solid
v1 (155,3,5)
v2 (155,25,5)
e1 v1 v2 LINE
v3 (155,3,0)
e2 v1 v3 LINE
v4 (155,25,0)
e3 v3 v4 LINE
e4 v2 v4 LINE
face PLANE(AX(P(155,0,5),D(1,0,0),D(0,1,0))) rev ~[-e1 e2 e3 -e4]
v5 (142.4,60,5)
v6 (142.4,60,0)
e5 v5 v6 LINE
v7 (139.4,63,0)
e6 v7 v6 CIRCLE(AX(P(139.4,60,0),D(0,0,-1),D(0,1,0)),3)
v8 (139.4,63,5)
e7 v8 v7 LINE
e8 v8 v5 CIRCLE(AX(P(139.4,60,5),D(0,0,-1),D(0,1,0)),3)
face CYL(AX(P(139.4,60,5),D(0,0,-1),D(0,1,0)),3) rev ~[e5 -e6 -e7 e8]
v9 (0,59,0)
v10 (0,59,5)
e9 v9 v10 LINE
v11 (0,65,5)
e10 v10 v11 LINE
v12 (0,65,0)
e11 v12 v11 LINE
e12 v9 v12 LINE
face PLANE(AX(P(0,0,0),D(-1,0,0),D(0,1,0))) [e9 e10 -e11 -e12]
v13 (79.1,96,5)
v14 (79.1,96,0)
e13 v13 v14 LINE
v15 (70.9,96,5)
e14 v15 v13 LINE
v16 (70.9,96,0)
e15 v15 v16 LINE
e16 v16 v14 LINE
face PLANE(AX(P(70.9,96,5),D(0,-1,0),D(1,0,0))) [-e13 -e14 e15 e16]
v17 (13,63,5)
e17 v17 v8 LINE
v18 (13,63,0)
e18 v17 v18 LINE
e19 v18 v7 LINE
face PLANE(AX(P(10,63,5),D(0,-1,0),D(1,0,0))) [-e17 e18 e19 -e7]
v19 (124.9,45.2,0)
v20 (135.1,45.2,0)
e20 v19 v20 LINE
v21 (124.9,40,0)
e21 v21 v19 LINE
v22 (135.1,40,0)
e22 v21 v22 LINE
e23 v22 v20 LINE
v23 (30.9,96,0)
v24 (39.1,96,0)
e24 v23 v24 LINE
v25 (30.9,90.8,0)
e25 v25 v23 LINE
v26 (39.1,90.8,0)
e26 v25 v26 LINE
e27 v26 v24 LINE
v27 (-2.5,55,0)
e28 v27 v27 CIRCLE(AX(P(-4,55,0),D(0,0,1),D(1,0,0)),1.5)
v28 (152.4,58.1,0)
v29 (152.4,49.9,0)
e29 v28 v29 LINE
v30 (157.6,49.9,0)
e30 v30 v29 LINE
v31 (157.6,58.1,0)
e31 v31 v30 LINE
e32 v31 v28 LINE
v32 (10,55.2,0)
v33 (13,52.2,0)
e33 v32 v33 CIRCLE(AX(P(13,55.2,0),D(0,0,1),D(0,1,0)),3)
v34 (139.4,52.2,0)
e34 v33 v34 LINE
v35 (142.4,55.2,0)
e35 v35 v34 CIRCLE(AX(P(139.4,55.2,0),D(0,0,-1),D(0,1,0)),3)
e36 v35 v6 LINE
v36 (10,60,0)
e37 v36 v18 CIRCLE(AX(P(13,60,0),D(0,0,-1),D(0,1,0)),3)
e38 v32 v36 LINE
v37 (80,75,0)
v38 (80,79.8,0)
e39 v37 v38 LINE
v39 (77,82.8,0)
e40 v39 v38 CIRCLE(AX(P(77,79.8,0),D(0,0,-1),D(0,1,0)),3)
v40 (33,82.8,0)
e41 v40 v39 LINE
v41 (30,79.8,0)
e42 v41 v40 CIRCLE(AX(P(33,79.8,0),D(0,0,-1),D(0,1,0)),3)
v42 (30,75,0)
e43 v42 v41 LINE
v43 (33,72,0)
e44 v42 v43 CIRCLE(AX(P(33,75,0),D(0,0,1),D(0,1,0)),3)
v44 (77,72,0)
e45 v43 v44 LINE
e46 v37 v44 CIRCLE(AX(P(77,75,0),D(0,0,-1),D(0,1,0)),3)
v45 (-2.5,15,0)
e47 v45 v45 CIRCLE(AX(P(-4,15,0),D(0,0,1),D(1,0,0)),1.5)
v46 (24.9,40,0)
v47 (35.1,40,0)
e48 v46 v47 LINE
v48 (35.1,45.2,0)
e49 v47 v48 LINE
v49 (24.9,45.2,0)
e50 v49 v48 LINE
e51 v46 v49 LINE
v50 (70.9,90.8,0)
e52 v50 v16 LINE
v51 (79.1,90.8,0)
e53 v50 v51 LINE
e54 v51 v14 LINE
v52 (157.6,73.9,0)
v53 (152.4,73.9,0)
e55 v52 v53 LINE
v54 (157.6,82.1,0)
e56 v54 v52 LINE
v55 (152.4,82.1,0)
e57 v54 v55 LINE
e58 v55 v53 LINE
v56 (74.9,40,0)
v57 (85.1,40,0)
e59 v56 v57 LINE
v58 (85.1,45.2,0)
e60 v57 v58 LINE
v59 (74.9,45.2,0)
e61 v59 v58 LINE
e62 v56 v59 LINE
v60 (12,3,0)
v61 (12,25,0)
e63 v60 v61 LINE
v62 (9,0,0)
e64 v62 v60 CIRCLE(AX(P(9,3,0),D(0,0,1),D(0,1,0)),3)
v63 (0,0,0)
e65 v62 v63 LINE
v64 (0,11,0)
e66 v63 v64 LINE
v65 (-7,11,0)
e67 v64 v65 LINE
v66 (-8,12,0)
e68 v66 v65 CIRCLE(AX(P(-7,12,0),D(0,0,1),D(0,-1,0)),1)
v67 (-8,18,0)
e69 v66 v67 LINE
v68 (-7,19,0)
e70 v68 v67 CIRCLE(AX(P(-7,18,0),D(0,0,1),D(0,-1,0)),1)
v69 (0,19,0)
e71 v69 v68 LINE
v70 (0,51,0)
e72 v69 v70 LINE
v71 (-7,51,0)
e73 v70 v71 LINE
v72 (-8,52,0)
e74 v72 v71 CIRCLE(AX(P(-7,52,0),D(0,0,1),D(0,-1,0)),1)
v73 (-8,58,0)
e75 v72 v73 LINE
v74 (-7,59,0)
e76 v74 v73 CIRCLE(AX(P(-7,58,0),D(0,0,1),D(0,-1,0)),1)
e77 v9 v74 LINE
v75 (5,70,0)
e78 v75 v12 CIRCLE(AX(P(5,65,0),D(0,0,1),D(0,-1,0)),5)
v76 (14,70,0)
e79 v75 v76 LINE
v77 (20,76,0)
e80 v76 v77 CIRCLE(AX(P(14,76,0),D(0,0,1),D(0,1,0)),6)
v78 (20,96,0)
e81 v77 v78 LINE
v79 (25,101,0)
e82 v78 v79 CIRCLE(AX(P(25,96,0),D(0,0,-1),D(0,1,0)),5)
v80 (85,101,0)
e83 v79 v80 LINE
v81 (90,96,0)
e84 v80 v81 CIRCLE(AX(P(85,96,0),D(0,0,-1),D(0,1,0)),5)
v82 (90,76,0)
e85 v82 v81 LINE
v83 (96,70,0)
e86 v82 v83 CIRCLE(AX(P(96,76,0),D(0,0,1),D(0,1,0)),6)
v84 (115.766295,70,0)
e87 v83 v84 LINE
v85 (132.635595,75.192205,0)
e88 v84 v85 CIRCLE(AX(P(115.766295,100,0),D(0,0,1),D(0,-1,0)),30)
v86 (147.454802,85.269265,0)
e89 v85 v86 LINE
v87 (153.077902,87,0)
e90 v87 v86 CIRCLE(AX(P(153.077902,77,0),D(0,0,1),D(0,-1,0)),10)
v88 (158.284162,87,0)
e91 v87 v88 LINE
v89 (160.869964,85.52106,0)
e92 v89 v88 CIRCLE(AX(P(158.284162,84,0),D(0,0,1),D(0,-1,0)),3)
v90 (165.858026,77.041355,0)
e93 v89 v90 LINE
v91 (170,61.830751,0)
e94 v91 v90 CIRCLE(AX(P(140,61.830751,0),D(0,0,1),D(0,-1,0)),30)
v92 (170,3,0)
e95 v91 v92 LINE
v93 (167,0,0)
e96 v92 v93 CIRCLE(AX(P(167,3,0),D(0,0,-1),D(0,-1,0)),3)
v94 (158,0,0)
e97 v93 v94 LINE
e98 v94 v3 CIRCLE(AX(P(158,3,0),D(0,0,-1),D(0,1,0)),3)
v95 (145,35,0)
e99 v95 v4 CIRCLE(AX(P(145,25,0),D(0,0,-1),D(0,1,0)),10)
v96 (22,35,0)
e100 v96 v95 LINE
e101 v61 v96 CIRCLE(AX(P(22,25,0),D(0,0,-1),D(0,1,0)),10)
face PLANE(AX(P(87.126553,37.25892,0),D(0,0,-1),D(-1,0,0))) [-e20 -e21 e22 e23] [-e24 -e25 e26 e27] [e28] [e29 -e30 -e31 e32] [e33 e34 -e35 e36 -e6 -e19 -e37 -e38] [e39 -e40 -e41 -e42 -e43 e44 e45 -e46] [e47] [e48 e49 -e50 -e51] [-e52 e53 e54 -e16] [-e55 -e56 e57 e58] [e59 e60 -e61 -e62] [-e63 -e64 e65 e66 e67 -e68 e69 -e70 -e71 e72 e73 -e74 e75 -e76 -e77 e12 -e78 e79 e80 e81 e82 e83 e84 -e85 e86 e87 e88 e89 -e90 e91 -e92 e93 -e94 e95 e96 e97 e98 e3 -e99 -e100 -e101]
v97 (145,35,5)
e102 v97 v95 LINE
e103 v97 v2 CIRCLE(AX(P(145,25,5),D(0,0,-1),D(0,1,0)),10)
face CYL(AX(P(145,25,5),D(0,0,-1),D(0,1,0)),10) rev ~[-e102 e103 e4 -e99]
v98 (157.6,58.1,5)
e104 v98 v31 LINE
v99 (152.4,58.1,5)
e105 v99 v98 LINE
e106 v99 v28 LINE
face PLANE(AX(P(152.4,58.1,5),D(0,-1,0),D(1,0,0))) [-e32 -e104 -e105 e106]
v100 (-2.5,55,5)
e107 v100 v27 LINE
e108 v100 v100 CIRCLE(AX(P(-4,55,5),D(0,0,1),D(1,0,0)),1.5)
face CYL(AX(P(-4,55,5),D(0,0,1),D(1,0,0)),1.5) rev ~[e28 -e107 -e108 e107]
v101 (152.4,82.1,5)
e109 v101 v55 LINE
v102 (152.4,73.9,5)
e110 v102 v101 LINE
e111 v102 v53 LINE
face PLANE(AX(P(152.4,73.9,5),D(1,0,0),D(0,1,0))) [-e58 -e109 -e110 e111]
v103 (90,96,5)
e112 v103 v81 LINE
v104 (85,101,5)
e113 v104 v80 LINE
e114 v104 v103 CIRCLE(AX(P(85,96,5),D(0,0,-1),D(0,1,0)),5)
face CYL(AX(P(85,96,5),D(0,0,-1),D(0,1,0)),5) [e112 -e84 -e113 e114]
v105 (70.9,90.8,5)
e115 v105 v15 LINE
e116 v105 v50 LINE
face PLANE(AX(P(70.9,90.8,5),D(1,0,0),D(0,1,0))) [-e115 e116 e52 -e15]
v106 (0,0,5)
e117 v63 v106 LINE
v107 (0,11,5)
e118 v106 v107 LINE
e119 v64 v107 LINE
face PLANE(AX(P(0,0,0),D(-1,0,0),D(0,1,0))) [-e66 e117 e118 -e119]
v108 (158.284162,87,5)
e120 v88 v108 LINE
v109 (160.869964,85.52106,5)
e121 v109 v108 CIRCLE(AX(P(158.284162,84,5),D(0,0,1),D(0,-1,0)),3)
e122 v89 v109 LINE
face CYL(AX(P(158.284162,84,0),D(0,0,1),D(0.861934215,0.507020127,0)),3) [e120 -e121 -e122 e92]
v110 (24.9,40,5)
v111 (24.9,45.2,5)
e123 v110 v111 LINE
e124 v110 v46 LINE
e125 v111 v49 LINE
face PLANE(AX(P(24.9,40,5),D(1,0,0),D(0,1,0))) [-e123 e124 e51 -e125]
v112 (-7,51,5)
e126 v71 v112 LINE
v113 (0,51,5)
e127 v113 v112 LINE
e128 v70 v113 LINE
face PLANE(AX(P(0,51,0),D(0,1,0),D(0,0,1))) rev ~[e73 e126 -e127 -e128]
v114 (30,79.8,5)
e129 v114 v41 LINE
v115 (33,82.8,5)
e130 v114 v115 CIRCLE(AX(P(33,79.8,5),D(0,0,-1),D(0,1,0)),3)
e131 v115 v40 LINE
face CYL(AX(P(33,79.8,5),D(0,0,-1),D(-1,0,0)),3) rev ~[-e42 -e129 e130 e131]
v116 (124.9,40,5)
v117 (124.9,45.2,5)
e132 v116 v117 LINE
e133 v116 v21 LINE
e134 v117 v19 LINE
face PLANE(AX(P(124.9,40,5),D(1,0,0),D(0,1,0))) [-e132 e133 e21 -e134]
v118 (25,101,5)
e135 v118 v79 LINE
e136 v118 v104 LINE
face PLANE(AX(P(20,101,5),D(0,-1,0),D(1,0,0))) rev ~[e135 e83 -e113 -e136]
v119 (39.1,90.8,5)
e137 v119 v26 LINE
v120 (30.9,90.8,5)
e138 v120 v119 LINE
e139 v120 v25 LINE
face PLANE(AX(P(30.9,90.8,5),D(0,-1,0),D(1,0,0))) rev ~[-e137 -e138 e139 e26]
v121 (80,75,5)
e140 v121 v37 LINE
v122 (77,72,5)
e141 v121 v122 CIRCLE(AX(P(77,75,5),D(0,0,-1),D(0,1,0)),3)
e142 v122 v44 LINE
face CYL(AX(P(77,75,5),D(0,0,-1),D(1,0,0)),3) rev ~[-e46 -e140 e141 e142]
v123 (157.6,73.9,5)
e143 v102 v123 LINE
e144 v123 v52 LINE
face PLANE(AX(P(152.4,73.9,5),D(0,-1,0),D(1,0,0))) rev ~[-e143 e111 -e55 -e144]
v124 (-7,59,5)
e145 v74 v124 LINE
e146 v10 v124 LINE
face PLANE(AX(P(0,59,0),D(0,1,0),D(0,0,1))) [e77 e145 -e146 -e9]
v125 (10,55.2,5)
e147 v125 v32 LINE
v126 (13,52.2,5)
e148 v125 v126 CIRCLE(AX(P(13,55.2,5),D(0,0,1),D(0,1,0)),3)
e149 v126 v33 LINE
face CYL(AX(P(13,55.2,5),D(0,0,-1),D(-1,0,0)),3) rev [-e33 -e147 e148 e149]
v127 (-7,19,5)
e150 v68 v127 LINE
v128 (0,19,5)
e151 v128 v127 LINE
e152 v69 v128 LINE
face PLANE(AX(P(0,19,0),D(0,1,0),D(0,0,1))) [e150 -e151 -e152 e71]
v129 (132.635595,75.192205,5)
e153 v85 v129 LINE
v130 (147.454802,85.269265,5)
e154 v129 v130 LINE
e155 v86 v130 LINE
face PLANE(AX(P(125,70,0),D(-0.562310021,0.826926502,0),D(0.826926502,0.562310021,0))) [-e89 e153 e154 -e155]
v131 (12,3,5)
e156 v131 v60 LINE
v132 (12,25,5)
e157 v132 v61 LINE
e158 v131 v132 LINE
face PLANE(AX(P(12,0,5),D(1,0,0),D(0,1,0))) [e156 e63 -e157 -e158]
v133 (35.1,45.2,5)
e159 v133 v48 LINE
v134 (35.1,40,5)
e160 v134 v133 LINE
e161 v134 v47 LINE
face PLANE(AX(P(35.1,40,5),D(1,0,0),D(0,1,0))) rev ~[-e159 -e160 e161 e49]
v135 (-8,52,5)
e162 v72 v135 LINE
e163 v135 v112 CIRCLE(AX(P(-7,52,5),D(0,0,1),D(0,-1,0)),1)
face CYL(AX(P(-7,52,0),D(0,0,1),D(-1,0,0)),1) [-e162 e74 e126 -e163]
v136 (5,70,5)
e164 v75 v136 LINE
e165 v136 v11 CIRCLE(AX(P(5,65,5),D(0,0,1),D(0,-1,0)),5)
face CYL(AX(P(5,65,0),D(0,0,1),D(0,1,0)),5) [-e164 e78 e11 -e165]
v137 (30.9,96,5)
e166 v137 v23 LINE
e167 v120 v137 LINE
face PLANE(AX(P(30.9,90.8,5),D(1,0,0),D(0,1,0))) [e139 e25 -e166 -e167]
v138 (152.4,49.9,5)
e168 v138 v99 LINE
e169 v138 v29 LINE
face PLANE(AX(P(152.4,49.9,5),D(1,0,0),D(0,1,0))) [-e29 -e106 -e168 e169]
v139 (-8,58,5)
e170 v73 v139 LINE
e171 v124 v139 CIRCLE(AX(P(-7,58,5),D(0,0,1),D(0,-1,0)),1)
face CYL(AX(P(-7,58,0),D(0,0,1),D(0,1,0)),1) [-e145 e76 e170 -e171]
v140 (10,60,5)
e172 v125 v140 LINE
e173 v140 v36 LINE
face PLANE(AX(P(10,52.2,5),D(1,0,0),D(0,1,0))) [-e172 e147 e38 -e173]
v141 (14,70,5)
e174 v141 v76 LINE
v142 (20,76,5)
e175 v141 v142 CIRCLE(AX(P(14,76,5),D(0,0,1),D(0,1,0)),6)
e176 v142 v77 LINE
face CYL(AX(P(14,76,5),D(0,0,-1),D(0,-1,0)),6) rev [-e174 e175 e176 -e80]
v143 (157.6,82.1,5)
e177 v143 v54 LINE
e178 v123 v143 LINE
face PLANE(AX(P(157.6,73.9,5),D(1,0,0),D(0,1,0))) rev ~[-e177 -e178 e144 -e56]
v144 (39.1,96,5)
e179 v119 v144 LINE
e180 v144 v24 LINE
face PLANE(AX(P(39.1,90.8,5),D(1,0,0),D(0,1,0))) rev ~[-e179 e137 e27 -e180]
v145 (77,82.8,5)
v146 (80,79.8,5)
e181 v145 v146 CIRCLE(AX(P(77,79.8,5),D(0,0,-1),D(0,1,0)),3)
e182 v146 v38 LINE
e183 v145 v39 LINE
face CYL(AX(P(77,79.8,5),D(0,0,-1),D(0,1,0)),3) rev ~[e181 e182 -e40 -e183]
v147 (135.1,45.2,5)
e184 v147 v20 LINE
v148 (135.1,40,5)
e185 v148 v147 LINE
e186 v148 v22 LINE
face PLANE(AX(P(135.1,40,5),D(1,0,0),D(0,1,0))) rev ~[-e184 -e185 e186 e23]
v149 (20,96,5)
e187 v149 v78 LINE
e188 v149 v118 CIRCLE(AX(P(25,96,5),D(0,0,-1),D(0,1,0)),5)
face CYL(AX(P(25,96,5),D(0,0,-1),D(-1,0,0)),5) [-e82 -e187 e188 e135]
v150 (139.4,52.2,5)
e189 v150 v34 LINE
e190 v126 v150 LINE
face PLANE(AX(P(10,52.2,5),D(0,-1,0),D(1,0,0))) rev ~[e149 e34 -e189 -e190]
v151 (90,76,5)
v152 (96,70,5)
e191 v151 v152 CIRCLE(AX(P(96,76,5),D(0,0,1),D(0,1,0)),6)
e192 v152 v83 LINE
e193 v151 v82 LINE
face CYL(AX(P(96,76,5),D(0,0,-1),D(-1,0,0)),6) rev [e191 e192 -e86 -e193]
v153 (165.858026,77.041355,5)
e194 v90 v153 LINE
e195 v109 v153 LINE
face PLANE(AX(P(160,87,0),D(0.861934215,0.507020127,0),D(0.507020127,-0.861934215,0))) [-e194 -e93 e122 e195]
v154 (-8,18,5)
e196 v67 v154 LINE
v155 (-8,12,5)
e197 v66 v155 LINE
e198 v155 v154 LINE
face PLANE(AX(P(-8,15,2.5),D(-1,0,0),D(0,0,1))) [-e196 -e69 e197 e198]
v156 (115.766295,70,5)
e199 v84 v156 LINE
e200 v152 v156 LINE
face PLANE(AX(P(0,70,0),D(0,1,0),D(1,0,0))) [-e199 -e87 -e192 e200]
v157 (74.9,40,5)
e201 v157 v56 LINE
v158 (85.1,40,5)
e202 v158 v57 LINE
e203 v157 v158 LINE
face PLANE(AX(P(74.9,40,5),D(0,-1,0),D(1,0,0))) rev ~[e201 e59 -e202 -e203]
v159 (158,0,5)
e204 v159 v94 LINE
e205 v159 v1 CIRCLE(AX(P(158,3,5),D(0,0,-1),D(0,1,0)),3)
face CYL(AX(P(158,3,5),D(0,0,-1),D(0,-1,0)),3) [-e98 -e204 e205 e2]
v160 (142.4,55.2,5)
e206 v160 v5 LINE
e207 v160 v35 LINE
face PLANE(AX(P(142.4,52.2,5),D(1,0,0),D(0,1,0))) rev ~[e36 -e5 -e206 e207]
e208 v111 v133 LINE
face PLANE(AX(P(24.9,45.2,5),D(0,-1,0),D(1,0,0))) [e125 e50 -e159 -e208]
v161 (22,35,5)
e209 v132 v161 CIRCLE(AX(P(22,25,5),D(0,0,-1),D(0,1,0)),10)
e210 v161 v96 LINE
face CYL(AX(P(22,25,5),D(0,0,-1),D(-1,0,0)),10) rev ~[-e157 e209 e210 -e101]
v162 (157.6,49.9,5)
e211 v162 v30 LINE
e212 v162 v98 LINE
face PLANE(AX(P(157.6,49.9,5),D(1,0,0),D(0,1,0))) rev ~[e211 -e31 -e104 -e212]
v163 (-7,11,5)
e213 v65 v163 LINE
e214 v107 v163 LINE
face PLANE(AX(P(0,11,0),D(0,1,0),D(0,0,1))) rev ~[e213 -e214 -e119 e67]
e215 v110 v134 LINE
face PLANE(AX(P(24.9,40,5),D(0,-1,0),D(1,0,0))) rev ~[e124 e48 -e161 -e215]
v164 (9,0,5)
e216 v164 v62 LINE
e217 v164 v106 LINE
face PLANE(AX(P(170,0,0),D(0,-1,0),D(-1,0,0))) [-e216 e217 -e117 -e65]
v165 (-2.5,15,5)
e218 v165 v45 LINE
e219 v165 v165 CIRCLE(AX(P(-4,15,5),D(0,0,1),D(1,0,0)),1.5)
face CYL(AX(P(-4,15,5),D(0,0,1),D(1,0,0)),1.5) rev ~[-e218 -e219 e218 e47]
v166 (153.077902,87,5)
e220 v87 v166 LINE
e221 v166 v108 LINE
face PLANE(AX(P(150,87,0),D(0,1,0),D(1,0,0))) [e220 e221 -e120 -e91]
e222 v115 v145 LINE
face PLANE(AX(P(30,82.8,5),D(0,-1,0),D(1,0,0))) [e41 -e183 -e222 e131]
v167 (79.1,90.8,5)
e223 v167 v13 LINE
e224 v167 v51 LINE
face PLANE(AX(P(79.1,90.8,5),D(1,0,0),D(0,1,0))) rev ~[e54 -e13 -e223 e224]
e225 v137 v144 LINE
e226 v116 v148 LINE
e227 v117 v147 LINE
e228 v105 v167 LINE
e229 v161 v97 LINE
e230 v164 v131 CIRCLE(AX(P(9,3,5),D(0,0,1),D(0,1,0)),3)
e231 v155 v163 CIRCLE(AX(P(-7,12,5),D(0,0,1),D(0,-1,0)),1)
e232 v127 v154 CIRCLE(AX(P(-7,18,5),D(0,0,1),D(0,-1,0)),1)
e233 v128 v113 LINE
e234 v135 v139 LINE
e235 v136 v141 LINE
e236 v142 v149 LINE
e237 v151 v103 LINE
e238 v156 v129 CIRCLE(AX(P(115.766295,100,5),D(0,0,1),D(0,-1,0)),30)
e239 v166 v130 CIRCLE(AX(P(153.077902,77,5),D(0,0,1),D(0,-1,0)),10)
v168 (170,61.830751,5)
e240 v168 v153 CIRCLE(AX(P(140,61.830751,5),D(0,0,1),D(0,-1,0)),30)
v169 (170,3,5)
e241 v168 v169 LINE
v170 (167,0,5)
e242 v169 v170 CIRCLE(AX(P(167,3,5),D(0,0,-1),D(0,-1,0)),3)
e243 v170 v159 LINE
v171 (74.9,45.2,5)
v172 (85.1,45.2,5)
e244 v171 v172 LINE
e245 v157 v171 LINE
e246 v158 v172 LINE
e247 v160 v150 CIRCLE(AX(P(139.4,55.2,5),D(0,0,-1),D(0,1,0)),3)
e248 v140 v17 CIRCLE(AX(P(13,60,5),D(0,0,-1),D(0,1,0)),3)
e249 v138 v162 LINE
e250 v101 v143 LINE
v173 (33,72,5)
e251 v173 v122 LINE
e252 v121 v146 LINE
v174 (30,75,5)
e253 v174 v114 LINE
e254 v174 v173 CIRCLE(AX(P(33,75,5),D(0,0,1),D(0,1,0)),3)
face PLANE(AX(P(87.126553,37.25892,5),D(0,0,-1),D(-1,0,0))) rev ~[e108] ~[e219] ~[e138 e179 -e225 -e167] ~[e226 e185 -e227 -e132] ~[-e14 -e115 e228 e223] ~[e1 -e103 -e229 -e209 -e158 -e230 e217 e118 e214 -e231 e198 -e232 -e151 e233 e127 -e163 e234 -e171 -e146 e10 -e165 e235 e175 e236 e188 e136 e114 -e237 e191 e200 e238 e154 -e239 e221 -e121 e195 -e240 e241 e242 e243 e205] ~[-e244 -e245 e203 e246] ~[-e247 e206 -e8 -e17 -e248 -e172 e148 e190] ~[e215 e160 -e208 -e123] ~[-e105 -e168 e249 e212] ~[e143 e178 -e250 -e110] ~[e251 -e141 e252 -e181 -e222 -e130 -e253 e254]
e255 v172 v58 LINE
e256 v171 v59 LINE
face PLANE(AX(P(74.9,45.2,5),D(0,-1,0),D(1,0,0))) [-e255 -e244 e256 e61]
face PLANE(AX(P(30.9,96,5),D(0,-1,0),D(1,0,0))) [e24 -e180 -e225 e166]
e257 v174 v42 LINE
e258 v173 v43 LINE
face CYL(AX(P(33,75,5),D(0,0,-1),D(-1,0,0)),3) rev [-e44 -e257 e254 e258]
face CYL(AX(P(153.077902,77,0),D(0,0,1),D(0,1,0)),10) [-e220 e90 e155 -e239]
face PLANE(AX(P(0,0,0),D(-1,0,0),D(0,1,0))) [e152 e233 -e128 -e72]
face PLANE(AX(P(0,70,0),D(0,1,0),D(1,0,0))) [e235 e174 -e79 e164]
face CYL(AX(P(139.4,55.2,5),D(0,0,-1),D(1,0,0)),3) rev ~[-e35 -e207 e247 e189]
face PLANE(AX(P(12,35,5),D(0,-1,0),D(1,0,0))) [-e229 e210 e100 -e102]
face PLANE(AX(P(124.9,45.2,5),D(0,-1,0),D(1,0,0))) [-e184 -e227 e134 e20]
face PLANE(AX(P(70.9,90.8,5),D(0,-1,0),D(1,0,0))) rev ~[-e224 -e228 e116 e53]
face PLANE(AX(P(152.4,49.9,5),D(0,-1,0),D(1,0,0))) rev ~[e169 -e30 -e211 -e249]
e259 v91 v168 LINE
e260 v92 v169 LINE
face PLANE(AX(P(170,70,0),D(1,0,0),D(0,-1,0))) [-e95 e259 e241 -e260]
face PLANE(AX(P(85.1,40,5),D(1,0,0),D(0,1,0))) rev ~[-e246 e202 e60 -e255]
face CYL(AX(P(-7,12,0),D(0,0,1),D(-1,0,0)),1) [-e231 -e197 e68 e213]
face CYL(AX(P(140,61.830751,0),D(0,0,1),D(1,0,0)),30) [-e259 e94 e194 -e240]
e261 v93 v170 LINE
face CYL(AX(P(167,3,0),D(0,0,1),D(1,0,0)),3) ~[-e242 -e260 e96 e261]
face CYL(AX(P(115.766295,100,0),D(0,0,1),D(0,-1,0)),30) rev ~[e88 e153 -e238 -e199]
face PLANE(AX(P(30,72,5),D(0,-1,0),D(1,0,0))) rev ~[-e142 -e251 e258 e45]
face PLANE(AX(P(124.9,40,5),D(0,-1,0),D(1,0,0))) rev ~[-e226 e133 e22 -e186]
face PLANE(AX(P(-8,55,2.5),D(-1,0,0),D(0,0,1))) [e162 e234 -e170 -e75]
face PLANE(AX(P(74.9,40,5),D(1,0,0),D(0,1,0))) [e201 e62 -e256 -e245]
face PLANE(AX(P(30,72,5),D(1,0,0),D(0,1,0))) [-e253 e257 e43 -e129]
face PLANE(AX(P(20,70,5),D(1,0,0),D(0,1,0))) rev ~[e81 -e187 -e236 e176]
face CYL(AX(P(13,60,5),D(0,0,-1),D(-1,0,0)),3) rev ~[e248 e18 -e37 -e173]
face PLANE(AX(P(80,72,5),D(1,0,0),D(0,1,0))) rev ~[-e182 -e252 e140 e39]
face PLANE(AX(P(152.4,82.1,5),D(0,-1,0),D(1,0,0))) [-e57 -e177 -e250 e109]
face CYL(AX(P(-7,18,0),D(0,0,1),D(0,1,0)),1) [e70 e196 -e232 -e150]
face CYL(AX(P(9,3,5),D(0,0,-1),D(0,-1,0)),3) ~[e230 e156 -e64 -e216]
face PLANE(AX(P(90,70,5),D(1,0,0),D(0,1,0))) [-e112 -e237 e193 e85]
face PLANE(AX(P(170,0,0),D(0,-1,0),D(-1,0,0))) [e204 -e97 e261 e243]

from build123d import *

# Parameters (mm, degrees)
SALIENTE_EXTRUIR1_DEPTH = 5
CROQUIS2_W              = 143
CROQUIS2_H              = 35
CORTAR_EXTRUIR1_DEPTH   = 5
REDONDEO1_R             = 10
CROQUIS3_W              = 5
CROQUIS3_H              = 8
SALIENTE_EXTRUIR2_DEPTH = 8
REDONDEO2_R             = 30
REDONDEO3_R             = 3
CROQUIS4_W              = 5.2
CROQUIS4_H              = 8.2
CORTAR_EXTRUIR2_DEPTH   = 192.034028382
REDONDEO4_R             = 3
REDONDEO5_R             = 10
REDONDEO6_R             = 1
CROQUIS5_R              = 1.5
CORTAR_EXTRUIR3_DEPTH   = 5
CROQUIS6_W              = 10.2
CROQUIS6_H              = 5.2
CORTAR_EXTRUIR4_DEPTH   = 5
CROQUIS7_W              = 132.4
CROQUIS7_H              = 10.8
CORTAR_EXTRUIR5_DEPTH   = 5
REDONDEO8_R             = 3
CROQUIS8_W              = 70
CROQUIS8_H              = 31
SALIENTE_EXTRUIR3_DEPTH = 5
CROQUIS9_W              = 8.2
CROQUIS9_H              = 5.2
CORTAR_EXTRUIR6_DEPTH   = 5
CROQUIS10_W             = 50
CROQUIS10_H             = 10.8
CORTAR_EXTRUIR7_DEPTH   = 5
REDONDEO9_R             = 3
REDONDEO10_R            = 6
REDONDEO11_R            = 5
REDONDEO12_R            = 5


with BuildPart() as part:
    # Croquis1 → Saliente-Extruir1 (new body)
    with BuildSketch(Plane.XY):
        Polygon((0, 0), (0, 70), (125, 70), (150, 87), (160, 87), (170, 70), (170, 0), align=None)
    extrude(amount=SALIENTE_EXTRUIR1_DEPTH)

    # Croquis2 → Cortar-Extruir1 (cut)
    with BuildSketch(Plane.XY.offset(5)):
        with Locations((83.5, 17.5)):
            Rectangle(CROQUIS2_W, CROQUIS2_H)
    extrude(amount=-CORTAR_EXTRUIR1_DEPTH, mode=Mode.SUBTRACT)

    # Redondeo1
    redondeo1_edges = [part.edges().sort_by_distance(p)[0] for p in [
        (12, 35, 2.5),
        (155, 35, 2.5),
    ]]
    fillet(redondeo1_edges, radius=REDONDEO1_R)

    # Croquis3 → Saliente-Extruir2 (add)
    with BuildSketch(Plane.ZY):
        with Locations((2.5, 15)):
            Rectangle(CROQUIS3_W, CROQUIS3_H)
        with Locations((2.5, 55)):
            Rectangle(CROQUIS3_W, CROQUIS3_H)
    extrude(amount=SALIENTE_EXTRUIR2_DEPTH)

    # Redondeo2
    redondeo2_edges = [part.edges().sort_by_distance(p)[0] for p in [
        (125, 70, 2.5),
        (170, 70, 2.5),
    ]]
    fillet(redondeo2_edges, radius=REDONDEO2_R)

    # Redondeo3
    redondeo3_edges = [part.edges().sort_by_distance(p)[0] for p in [
        (170, 0, 2.5),
        (12, 0, 2.5),
        (155, 0, 2.5),
    ]]
    fillet(redondeo3_edges, radius=REDONDEO3_R)

    # Croquis4 → Cortar-Extruir2 (cut, through all)
    with BuildSketch(Plane.XY.offset(5)):
        with Locations((155, 78)):
            Rectangle(CROQUIS4_W, CROQUIS4_H)
        with Locations((155, 54)):
            Rectangle(CROQUIS4_W, CROQUIS4_H)
    extrude(amount=-CORTAR_EXTRUIR2_DEPTH, mode=Mode.SUBTRACT)

    # Redondeo4
    redondeo4_edges = [part.edges().sort_by_distance(p)[0] for p in [
        (160, 87, 2.5),
    ]]
    fillet(redondeo4_edges, radius=REDONDEO4_R)

    # Redondeo5
    redondeo5_edges = [part.edges().sort_by_distance(p)[0] for p in [
        (150, 87, 2.5),
    ]]
    fillet(redondeo5_edges, radius=REDONDEO5_R)

    # Redondeo6
    redondeo6_edges = [part.edges().sort_by_distance(p)[0] for p in [
        (-8, 19, 2.5),
        (-8, 11, 2.5),
        (-8, 59, 2.5),
        (-8, 51, 2.5),
    ]]
    fillet(redondeo6_edges, radius=REDONDEO6_R)

    # Croquis5 → Cortar-Extruir3 (cut)
    with BuildSketch(Plane.XY.offset(5)):
        with Locations((-4, 55)):
            Circle(CROQUIS5_R)
        with Locations((-4, 15)):
            Circle(CROQUIS5_R)
    extrude(amount=-CORTAR_EXTRUIR3_DEPTH, mode=Mode.SUBTRACT)

    # Croquis6 → Cortar-Extruir4 (cut)
    with BuildSketch(Plane.XY.offset(5)):
        with Locations((80, 42.6)):
            Rectangle(CROQUIS6_W, CROQUIS6_H)
        with Locations((30, 42.6)):
            Rectangle(CROQUIS6_W, CROQUIS6_H)
        with Locations((130, 42.6)):
            Rectangle(CROQUIS6_W, CROQUIS6_H)
    extrude(amount=-CORTAR_EXTRUIR4_DEPTH, mode=Mode.SUBTRACT)

    # Croquis7 → Cortar-Extruir5 (cut)
    with BuildSketch(Plane.XY.offset(5)):
        with Locations((76.2, 57.6)):
            Rectangle(CROQUIS7_W, CROQUIS7_H)
    extrude(amount=-CORTAR_EXTRUIR5_DEPTH, mode=Mode.SUBTRACT)

    # Redondeo8
    redondeo8_edges = [part.edges().sort_by_distance(p)[0] for p in [
        (10, 52.2, 2.5),
        (10, 63, 2.5),
        (142.4, 63, 2.5),
        (142.4, 52.2, 2.5),
    ]]
    fillet(redondeo8_edges, radius=REDONDEO8_R)

    # Croquis8 → Saliente-Extruir3 (add)
    with BuildSketch(Plane.XY.offset(5)):
        with Locations((55, 85.5)):
            Rectangle(CROQUIS8_W, CROQUIS8_H)
    extrude(amount=-SALIENTE_EXTRUIR3_DEPTH)

    # Croquis9 → Cortar-Extruir6 (cut)
    with BuildSketch(Plane.XY.offset(5)):
        with Locations((35, 93.4)):
            Rectangle(CROQUIS9_W, CROQUIS9_H)
        with Locations((75, 93.4)):
            Rectangle(CROQUIS9_W, CROQUIS9_H)
    extrude(amount=-CORTAR_EXTRUIR6_DEPTH, mode=Mode.SUBTRACT)

    # Croquis10 → Cortar-Extruir7 (cut)
    with BuildSketch(Plane.XY.offset(5)):
        with Locations((55, 77.4)):
            Rectangle(CROQUIS10_W, CROQUIS10_H)
    extrude(amount=-CORTAR_EXTRUIR7_DEPTH, mode=Mode.SUBTRACT)

    # Redondeo9
    redondeo9_edges = [part.edges().sort_by_distance(p)[0] for p in [
        (30, 72, 2.5),
        (30, 82.8, 2.5),
        (80, 82.8, 2.5),
        (80, 72, 2.5),
    ]]
    fillet(redondeo9_edges, radius=REDONDEO9_R)

    # Redondeo10
    redondeo10_edges = [part.edges().sort_by_distance(p)[0] for p in [
        (20, 70, 2.5),
        (90, 70, 2.5),
    ]]
    fillet(redondeo10_edges, radius=REDONDEO10_R)

    # Redondeo11
    redondeo11_edges = [part.edges().sort_by_distance(p)[0] for p in [
        (20, 101, 2.5),
        (90, 101, 2.5),
    ]]
    fillet(redondeo11_edges, radius=REDONDEO11_R)

    # Redondeo12
    redondeo12_edges = [part.edges().sort_by_distance(p)[0] for p in [
        (0, 70, 2.5),
    ]]
    fillet(redondeo12_edges, radius=REDONDEO12_R)


solid = part.part
